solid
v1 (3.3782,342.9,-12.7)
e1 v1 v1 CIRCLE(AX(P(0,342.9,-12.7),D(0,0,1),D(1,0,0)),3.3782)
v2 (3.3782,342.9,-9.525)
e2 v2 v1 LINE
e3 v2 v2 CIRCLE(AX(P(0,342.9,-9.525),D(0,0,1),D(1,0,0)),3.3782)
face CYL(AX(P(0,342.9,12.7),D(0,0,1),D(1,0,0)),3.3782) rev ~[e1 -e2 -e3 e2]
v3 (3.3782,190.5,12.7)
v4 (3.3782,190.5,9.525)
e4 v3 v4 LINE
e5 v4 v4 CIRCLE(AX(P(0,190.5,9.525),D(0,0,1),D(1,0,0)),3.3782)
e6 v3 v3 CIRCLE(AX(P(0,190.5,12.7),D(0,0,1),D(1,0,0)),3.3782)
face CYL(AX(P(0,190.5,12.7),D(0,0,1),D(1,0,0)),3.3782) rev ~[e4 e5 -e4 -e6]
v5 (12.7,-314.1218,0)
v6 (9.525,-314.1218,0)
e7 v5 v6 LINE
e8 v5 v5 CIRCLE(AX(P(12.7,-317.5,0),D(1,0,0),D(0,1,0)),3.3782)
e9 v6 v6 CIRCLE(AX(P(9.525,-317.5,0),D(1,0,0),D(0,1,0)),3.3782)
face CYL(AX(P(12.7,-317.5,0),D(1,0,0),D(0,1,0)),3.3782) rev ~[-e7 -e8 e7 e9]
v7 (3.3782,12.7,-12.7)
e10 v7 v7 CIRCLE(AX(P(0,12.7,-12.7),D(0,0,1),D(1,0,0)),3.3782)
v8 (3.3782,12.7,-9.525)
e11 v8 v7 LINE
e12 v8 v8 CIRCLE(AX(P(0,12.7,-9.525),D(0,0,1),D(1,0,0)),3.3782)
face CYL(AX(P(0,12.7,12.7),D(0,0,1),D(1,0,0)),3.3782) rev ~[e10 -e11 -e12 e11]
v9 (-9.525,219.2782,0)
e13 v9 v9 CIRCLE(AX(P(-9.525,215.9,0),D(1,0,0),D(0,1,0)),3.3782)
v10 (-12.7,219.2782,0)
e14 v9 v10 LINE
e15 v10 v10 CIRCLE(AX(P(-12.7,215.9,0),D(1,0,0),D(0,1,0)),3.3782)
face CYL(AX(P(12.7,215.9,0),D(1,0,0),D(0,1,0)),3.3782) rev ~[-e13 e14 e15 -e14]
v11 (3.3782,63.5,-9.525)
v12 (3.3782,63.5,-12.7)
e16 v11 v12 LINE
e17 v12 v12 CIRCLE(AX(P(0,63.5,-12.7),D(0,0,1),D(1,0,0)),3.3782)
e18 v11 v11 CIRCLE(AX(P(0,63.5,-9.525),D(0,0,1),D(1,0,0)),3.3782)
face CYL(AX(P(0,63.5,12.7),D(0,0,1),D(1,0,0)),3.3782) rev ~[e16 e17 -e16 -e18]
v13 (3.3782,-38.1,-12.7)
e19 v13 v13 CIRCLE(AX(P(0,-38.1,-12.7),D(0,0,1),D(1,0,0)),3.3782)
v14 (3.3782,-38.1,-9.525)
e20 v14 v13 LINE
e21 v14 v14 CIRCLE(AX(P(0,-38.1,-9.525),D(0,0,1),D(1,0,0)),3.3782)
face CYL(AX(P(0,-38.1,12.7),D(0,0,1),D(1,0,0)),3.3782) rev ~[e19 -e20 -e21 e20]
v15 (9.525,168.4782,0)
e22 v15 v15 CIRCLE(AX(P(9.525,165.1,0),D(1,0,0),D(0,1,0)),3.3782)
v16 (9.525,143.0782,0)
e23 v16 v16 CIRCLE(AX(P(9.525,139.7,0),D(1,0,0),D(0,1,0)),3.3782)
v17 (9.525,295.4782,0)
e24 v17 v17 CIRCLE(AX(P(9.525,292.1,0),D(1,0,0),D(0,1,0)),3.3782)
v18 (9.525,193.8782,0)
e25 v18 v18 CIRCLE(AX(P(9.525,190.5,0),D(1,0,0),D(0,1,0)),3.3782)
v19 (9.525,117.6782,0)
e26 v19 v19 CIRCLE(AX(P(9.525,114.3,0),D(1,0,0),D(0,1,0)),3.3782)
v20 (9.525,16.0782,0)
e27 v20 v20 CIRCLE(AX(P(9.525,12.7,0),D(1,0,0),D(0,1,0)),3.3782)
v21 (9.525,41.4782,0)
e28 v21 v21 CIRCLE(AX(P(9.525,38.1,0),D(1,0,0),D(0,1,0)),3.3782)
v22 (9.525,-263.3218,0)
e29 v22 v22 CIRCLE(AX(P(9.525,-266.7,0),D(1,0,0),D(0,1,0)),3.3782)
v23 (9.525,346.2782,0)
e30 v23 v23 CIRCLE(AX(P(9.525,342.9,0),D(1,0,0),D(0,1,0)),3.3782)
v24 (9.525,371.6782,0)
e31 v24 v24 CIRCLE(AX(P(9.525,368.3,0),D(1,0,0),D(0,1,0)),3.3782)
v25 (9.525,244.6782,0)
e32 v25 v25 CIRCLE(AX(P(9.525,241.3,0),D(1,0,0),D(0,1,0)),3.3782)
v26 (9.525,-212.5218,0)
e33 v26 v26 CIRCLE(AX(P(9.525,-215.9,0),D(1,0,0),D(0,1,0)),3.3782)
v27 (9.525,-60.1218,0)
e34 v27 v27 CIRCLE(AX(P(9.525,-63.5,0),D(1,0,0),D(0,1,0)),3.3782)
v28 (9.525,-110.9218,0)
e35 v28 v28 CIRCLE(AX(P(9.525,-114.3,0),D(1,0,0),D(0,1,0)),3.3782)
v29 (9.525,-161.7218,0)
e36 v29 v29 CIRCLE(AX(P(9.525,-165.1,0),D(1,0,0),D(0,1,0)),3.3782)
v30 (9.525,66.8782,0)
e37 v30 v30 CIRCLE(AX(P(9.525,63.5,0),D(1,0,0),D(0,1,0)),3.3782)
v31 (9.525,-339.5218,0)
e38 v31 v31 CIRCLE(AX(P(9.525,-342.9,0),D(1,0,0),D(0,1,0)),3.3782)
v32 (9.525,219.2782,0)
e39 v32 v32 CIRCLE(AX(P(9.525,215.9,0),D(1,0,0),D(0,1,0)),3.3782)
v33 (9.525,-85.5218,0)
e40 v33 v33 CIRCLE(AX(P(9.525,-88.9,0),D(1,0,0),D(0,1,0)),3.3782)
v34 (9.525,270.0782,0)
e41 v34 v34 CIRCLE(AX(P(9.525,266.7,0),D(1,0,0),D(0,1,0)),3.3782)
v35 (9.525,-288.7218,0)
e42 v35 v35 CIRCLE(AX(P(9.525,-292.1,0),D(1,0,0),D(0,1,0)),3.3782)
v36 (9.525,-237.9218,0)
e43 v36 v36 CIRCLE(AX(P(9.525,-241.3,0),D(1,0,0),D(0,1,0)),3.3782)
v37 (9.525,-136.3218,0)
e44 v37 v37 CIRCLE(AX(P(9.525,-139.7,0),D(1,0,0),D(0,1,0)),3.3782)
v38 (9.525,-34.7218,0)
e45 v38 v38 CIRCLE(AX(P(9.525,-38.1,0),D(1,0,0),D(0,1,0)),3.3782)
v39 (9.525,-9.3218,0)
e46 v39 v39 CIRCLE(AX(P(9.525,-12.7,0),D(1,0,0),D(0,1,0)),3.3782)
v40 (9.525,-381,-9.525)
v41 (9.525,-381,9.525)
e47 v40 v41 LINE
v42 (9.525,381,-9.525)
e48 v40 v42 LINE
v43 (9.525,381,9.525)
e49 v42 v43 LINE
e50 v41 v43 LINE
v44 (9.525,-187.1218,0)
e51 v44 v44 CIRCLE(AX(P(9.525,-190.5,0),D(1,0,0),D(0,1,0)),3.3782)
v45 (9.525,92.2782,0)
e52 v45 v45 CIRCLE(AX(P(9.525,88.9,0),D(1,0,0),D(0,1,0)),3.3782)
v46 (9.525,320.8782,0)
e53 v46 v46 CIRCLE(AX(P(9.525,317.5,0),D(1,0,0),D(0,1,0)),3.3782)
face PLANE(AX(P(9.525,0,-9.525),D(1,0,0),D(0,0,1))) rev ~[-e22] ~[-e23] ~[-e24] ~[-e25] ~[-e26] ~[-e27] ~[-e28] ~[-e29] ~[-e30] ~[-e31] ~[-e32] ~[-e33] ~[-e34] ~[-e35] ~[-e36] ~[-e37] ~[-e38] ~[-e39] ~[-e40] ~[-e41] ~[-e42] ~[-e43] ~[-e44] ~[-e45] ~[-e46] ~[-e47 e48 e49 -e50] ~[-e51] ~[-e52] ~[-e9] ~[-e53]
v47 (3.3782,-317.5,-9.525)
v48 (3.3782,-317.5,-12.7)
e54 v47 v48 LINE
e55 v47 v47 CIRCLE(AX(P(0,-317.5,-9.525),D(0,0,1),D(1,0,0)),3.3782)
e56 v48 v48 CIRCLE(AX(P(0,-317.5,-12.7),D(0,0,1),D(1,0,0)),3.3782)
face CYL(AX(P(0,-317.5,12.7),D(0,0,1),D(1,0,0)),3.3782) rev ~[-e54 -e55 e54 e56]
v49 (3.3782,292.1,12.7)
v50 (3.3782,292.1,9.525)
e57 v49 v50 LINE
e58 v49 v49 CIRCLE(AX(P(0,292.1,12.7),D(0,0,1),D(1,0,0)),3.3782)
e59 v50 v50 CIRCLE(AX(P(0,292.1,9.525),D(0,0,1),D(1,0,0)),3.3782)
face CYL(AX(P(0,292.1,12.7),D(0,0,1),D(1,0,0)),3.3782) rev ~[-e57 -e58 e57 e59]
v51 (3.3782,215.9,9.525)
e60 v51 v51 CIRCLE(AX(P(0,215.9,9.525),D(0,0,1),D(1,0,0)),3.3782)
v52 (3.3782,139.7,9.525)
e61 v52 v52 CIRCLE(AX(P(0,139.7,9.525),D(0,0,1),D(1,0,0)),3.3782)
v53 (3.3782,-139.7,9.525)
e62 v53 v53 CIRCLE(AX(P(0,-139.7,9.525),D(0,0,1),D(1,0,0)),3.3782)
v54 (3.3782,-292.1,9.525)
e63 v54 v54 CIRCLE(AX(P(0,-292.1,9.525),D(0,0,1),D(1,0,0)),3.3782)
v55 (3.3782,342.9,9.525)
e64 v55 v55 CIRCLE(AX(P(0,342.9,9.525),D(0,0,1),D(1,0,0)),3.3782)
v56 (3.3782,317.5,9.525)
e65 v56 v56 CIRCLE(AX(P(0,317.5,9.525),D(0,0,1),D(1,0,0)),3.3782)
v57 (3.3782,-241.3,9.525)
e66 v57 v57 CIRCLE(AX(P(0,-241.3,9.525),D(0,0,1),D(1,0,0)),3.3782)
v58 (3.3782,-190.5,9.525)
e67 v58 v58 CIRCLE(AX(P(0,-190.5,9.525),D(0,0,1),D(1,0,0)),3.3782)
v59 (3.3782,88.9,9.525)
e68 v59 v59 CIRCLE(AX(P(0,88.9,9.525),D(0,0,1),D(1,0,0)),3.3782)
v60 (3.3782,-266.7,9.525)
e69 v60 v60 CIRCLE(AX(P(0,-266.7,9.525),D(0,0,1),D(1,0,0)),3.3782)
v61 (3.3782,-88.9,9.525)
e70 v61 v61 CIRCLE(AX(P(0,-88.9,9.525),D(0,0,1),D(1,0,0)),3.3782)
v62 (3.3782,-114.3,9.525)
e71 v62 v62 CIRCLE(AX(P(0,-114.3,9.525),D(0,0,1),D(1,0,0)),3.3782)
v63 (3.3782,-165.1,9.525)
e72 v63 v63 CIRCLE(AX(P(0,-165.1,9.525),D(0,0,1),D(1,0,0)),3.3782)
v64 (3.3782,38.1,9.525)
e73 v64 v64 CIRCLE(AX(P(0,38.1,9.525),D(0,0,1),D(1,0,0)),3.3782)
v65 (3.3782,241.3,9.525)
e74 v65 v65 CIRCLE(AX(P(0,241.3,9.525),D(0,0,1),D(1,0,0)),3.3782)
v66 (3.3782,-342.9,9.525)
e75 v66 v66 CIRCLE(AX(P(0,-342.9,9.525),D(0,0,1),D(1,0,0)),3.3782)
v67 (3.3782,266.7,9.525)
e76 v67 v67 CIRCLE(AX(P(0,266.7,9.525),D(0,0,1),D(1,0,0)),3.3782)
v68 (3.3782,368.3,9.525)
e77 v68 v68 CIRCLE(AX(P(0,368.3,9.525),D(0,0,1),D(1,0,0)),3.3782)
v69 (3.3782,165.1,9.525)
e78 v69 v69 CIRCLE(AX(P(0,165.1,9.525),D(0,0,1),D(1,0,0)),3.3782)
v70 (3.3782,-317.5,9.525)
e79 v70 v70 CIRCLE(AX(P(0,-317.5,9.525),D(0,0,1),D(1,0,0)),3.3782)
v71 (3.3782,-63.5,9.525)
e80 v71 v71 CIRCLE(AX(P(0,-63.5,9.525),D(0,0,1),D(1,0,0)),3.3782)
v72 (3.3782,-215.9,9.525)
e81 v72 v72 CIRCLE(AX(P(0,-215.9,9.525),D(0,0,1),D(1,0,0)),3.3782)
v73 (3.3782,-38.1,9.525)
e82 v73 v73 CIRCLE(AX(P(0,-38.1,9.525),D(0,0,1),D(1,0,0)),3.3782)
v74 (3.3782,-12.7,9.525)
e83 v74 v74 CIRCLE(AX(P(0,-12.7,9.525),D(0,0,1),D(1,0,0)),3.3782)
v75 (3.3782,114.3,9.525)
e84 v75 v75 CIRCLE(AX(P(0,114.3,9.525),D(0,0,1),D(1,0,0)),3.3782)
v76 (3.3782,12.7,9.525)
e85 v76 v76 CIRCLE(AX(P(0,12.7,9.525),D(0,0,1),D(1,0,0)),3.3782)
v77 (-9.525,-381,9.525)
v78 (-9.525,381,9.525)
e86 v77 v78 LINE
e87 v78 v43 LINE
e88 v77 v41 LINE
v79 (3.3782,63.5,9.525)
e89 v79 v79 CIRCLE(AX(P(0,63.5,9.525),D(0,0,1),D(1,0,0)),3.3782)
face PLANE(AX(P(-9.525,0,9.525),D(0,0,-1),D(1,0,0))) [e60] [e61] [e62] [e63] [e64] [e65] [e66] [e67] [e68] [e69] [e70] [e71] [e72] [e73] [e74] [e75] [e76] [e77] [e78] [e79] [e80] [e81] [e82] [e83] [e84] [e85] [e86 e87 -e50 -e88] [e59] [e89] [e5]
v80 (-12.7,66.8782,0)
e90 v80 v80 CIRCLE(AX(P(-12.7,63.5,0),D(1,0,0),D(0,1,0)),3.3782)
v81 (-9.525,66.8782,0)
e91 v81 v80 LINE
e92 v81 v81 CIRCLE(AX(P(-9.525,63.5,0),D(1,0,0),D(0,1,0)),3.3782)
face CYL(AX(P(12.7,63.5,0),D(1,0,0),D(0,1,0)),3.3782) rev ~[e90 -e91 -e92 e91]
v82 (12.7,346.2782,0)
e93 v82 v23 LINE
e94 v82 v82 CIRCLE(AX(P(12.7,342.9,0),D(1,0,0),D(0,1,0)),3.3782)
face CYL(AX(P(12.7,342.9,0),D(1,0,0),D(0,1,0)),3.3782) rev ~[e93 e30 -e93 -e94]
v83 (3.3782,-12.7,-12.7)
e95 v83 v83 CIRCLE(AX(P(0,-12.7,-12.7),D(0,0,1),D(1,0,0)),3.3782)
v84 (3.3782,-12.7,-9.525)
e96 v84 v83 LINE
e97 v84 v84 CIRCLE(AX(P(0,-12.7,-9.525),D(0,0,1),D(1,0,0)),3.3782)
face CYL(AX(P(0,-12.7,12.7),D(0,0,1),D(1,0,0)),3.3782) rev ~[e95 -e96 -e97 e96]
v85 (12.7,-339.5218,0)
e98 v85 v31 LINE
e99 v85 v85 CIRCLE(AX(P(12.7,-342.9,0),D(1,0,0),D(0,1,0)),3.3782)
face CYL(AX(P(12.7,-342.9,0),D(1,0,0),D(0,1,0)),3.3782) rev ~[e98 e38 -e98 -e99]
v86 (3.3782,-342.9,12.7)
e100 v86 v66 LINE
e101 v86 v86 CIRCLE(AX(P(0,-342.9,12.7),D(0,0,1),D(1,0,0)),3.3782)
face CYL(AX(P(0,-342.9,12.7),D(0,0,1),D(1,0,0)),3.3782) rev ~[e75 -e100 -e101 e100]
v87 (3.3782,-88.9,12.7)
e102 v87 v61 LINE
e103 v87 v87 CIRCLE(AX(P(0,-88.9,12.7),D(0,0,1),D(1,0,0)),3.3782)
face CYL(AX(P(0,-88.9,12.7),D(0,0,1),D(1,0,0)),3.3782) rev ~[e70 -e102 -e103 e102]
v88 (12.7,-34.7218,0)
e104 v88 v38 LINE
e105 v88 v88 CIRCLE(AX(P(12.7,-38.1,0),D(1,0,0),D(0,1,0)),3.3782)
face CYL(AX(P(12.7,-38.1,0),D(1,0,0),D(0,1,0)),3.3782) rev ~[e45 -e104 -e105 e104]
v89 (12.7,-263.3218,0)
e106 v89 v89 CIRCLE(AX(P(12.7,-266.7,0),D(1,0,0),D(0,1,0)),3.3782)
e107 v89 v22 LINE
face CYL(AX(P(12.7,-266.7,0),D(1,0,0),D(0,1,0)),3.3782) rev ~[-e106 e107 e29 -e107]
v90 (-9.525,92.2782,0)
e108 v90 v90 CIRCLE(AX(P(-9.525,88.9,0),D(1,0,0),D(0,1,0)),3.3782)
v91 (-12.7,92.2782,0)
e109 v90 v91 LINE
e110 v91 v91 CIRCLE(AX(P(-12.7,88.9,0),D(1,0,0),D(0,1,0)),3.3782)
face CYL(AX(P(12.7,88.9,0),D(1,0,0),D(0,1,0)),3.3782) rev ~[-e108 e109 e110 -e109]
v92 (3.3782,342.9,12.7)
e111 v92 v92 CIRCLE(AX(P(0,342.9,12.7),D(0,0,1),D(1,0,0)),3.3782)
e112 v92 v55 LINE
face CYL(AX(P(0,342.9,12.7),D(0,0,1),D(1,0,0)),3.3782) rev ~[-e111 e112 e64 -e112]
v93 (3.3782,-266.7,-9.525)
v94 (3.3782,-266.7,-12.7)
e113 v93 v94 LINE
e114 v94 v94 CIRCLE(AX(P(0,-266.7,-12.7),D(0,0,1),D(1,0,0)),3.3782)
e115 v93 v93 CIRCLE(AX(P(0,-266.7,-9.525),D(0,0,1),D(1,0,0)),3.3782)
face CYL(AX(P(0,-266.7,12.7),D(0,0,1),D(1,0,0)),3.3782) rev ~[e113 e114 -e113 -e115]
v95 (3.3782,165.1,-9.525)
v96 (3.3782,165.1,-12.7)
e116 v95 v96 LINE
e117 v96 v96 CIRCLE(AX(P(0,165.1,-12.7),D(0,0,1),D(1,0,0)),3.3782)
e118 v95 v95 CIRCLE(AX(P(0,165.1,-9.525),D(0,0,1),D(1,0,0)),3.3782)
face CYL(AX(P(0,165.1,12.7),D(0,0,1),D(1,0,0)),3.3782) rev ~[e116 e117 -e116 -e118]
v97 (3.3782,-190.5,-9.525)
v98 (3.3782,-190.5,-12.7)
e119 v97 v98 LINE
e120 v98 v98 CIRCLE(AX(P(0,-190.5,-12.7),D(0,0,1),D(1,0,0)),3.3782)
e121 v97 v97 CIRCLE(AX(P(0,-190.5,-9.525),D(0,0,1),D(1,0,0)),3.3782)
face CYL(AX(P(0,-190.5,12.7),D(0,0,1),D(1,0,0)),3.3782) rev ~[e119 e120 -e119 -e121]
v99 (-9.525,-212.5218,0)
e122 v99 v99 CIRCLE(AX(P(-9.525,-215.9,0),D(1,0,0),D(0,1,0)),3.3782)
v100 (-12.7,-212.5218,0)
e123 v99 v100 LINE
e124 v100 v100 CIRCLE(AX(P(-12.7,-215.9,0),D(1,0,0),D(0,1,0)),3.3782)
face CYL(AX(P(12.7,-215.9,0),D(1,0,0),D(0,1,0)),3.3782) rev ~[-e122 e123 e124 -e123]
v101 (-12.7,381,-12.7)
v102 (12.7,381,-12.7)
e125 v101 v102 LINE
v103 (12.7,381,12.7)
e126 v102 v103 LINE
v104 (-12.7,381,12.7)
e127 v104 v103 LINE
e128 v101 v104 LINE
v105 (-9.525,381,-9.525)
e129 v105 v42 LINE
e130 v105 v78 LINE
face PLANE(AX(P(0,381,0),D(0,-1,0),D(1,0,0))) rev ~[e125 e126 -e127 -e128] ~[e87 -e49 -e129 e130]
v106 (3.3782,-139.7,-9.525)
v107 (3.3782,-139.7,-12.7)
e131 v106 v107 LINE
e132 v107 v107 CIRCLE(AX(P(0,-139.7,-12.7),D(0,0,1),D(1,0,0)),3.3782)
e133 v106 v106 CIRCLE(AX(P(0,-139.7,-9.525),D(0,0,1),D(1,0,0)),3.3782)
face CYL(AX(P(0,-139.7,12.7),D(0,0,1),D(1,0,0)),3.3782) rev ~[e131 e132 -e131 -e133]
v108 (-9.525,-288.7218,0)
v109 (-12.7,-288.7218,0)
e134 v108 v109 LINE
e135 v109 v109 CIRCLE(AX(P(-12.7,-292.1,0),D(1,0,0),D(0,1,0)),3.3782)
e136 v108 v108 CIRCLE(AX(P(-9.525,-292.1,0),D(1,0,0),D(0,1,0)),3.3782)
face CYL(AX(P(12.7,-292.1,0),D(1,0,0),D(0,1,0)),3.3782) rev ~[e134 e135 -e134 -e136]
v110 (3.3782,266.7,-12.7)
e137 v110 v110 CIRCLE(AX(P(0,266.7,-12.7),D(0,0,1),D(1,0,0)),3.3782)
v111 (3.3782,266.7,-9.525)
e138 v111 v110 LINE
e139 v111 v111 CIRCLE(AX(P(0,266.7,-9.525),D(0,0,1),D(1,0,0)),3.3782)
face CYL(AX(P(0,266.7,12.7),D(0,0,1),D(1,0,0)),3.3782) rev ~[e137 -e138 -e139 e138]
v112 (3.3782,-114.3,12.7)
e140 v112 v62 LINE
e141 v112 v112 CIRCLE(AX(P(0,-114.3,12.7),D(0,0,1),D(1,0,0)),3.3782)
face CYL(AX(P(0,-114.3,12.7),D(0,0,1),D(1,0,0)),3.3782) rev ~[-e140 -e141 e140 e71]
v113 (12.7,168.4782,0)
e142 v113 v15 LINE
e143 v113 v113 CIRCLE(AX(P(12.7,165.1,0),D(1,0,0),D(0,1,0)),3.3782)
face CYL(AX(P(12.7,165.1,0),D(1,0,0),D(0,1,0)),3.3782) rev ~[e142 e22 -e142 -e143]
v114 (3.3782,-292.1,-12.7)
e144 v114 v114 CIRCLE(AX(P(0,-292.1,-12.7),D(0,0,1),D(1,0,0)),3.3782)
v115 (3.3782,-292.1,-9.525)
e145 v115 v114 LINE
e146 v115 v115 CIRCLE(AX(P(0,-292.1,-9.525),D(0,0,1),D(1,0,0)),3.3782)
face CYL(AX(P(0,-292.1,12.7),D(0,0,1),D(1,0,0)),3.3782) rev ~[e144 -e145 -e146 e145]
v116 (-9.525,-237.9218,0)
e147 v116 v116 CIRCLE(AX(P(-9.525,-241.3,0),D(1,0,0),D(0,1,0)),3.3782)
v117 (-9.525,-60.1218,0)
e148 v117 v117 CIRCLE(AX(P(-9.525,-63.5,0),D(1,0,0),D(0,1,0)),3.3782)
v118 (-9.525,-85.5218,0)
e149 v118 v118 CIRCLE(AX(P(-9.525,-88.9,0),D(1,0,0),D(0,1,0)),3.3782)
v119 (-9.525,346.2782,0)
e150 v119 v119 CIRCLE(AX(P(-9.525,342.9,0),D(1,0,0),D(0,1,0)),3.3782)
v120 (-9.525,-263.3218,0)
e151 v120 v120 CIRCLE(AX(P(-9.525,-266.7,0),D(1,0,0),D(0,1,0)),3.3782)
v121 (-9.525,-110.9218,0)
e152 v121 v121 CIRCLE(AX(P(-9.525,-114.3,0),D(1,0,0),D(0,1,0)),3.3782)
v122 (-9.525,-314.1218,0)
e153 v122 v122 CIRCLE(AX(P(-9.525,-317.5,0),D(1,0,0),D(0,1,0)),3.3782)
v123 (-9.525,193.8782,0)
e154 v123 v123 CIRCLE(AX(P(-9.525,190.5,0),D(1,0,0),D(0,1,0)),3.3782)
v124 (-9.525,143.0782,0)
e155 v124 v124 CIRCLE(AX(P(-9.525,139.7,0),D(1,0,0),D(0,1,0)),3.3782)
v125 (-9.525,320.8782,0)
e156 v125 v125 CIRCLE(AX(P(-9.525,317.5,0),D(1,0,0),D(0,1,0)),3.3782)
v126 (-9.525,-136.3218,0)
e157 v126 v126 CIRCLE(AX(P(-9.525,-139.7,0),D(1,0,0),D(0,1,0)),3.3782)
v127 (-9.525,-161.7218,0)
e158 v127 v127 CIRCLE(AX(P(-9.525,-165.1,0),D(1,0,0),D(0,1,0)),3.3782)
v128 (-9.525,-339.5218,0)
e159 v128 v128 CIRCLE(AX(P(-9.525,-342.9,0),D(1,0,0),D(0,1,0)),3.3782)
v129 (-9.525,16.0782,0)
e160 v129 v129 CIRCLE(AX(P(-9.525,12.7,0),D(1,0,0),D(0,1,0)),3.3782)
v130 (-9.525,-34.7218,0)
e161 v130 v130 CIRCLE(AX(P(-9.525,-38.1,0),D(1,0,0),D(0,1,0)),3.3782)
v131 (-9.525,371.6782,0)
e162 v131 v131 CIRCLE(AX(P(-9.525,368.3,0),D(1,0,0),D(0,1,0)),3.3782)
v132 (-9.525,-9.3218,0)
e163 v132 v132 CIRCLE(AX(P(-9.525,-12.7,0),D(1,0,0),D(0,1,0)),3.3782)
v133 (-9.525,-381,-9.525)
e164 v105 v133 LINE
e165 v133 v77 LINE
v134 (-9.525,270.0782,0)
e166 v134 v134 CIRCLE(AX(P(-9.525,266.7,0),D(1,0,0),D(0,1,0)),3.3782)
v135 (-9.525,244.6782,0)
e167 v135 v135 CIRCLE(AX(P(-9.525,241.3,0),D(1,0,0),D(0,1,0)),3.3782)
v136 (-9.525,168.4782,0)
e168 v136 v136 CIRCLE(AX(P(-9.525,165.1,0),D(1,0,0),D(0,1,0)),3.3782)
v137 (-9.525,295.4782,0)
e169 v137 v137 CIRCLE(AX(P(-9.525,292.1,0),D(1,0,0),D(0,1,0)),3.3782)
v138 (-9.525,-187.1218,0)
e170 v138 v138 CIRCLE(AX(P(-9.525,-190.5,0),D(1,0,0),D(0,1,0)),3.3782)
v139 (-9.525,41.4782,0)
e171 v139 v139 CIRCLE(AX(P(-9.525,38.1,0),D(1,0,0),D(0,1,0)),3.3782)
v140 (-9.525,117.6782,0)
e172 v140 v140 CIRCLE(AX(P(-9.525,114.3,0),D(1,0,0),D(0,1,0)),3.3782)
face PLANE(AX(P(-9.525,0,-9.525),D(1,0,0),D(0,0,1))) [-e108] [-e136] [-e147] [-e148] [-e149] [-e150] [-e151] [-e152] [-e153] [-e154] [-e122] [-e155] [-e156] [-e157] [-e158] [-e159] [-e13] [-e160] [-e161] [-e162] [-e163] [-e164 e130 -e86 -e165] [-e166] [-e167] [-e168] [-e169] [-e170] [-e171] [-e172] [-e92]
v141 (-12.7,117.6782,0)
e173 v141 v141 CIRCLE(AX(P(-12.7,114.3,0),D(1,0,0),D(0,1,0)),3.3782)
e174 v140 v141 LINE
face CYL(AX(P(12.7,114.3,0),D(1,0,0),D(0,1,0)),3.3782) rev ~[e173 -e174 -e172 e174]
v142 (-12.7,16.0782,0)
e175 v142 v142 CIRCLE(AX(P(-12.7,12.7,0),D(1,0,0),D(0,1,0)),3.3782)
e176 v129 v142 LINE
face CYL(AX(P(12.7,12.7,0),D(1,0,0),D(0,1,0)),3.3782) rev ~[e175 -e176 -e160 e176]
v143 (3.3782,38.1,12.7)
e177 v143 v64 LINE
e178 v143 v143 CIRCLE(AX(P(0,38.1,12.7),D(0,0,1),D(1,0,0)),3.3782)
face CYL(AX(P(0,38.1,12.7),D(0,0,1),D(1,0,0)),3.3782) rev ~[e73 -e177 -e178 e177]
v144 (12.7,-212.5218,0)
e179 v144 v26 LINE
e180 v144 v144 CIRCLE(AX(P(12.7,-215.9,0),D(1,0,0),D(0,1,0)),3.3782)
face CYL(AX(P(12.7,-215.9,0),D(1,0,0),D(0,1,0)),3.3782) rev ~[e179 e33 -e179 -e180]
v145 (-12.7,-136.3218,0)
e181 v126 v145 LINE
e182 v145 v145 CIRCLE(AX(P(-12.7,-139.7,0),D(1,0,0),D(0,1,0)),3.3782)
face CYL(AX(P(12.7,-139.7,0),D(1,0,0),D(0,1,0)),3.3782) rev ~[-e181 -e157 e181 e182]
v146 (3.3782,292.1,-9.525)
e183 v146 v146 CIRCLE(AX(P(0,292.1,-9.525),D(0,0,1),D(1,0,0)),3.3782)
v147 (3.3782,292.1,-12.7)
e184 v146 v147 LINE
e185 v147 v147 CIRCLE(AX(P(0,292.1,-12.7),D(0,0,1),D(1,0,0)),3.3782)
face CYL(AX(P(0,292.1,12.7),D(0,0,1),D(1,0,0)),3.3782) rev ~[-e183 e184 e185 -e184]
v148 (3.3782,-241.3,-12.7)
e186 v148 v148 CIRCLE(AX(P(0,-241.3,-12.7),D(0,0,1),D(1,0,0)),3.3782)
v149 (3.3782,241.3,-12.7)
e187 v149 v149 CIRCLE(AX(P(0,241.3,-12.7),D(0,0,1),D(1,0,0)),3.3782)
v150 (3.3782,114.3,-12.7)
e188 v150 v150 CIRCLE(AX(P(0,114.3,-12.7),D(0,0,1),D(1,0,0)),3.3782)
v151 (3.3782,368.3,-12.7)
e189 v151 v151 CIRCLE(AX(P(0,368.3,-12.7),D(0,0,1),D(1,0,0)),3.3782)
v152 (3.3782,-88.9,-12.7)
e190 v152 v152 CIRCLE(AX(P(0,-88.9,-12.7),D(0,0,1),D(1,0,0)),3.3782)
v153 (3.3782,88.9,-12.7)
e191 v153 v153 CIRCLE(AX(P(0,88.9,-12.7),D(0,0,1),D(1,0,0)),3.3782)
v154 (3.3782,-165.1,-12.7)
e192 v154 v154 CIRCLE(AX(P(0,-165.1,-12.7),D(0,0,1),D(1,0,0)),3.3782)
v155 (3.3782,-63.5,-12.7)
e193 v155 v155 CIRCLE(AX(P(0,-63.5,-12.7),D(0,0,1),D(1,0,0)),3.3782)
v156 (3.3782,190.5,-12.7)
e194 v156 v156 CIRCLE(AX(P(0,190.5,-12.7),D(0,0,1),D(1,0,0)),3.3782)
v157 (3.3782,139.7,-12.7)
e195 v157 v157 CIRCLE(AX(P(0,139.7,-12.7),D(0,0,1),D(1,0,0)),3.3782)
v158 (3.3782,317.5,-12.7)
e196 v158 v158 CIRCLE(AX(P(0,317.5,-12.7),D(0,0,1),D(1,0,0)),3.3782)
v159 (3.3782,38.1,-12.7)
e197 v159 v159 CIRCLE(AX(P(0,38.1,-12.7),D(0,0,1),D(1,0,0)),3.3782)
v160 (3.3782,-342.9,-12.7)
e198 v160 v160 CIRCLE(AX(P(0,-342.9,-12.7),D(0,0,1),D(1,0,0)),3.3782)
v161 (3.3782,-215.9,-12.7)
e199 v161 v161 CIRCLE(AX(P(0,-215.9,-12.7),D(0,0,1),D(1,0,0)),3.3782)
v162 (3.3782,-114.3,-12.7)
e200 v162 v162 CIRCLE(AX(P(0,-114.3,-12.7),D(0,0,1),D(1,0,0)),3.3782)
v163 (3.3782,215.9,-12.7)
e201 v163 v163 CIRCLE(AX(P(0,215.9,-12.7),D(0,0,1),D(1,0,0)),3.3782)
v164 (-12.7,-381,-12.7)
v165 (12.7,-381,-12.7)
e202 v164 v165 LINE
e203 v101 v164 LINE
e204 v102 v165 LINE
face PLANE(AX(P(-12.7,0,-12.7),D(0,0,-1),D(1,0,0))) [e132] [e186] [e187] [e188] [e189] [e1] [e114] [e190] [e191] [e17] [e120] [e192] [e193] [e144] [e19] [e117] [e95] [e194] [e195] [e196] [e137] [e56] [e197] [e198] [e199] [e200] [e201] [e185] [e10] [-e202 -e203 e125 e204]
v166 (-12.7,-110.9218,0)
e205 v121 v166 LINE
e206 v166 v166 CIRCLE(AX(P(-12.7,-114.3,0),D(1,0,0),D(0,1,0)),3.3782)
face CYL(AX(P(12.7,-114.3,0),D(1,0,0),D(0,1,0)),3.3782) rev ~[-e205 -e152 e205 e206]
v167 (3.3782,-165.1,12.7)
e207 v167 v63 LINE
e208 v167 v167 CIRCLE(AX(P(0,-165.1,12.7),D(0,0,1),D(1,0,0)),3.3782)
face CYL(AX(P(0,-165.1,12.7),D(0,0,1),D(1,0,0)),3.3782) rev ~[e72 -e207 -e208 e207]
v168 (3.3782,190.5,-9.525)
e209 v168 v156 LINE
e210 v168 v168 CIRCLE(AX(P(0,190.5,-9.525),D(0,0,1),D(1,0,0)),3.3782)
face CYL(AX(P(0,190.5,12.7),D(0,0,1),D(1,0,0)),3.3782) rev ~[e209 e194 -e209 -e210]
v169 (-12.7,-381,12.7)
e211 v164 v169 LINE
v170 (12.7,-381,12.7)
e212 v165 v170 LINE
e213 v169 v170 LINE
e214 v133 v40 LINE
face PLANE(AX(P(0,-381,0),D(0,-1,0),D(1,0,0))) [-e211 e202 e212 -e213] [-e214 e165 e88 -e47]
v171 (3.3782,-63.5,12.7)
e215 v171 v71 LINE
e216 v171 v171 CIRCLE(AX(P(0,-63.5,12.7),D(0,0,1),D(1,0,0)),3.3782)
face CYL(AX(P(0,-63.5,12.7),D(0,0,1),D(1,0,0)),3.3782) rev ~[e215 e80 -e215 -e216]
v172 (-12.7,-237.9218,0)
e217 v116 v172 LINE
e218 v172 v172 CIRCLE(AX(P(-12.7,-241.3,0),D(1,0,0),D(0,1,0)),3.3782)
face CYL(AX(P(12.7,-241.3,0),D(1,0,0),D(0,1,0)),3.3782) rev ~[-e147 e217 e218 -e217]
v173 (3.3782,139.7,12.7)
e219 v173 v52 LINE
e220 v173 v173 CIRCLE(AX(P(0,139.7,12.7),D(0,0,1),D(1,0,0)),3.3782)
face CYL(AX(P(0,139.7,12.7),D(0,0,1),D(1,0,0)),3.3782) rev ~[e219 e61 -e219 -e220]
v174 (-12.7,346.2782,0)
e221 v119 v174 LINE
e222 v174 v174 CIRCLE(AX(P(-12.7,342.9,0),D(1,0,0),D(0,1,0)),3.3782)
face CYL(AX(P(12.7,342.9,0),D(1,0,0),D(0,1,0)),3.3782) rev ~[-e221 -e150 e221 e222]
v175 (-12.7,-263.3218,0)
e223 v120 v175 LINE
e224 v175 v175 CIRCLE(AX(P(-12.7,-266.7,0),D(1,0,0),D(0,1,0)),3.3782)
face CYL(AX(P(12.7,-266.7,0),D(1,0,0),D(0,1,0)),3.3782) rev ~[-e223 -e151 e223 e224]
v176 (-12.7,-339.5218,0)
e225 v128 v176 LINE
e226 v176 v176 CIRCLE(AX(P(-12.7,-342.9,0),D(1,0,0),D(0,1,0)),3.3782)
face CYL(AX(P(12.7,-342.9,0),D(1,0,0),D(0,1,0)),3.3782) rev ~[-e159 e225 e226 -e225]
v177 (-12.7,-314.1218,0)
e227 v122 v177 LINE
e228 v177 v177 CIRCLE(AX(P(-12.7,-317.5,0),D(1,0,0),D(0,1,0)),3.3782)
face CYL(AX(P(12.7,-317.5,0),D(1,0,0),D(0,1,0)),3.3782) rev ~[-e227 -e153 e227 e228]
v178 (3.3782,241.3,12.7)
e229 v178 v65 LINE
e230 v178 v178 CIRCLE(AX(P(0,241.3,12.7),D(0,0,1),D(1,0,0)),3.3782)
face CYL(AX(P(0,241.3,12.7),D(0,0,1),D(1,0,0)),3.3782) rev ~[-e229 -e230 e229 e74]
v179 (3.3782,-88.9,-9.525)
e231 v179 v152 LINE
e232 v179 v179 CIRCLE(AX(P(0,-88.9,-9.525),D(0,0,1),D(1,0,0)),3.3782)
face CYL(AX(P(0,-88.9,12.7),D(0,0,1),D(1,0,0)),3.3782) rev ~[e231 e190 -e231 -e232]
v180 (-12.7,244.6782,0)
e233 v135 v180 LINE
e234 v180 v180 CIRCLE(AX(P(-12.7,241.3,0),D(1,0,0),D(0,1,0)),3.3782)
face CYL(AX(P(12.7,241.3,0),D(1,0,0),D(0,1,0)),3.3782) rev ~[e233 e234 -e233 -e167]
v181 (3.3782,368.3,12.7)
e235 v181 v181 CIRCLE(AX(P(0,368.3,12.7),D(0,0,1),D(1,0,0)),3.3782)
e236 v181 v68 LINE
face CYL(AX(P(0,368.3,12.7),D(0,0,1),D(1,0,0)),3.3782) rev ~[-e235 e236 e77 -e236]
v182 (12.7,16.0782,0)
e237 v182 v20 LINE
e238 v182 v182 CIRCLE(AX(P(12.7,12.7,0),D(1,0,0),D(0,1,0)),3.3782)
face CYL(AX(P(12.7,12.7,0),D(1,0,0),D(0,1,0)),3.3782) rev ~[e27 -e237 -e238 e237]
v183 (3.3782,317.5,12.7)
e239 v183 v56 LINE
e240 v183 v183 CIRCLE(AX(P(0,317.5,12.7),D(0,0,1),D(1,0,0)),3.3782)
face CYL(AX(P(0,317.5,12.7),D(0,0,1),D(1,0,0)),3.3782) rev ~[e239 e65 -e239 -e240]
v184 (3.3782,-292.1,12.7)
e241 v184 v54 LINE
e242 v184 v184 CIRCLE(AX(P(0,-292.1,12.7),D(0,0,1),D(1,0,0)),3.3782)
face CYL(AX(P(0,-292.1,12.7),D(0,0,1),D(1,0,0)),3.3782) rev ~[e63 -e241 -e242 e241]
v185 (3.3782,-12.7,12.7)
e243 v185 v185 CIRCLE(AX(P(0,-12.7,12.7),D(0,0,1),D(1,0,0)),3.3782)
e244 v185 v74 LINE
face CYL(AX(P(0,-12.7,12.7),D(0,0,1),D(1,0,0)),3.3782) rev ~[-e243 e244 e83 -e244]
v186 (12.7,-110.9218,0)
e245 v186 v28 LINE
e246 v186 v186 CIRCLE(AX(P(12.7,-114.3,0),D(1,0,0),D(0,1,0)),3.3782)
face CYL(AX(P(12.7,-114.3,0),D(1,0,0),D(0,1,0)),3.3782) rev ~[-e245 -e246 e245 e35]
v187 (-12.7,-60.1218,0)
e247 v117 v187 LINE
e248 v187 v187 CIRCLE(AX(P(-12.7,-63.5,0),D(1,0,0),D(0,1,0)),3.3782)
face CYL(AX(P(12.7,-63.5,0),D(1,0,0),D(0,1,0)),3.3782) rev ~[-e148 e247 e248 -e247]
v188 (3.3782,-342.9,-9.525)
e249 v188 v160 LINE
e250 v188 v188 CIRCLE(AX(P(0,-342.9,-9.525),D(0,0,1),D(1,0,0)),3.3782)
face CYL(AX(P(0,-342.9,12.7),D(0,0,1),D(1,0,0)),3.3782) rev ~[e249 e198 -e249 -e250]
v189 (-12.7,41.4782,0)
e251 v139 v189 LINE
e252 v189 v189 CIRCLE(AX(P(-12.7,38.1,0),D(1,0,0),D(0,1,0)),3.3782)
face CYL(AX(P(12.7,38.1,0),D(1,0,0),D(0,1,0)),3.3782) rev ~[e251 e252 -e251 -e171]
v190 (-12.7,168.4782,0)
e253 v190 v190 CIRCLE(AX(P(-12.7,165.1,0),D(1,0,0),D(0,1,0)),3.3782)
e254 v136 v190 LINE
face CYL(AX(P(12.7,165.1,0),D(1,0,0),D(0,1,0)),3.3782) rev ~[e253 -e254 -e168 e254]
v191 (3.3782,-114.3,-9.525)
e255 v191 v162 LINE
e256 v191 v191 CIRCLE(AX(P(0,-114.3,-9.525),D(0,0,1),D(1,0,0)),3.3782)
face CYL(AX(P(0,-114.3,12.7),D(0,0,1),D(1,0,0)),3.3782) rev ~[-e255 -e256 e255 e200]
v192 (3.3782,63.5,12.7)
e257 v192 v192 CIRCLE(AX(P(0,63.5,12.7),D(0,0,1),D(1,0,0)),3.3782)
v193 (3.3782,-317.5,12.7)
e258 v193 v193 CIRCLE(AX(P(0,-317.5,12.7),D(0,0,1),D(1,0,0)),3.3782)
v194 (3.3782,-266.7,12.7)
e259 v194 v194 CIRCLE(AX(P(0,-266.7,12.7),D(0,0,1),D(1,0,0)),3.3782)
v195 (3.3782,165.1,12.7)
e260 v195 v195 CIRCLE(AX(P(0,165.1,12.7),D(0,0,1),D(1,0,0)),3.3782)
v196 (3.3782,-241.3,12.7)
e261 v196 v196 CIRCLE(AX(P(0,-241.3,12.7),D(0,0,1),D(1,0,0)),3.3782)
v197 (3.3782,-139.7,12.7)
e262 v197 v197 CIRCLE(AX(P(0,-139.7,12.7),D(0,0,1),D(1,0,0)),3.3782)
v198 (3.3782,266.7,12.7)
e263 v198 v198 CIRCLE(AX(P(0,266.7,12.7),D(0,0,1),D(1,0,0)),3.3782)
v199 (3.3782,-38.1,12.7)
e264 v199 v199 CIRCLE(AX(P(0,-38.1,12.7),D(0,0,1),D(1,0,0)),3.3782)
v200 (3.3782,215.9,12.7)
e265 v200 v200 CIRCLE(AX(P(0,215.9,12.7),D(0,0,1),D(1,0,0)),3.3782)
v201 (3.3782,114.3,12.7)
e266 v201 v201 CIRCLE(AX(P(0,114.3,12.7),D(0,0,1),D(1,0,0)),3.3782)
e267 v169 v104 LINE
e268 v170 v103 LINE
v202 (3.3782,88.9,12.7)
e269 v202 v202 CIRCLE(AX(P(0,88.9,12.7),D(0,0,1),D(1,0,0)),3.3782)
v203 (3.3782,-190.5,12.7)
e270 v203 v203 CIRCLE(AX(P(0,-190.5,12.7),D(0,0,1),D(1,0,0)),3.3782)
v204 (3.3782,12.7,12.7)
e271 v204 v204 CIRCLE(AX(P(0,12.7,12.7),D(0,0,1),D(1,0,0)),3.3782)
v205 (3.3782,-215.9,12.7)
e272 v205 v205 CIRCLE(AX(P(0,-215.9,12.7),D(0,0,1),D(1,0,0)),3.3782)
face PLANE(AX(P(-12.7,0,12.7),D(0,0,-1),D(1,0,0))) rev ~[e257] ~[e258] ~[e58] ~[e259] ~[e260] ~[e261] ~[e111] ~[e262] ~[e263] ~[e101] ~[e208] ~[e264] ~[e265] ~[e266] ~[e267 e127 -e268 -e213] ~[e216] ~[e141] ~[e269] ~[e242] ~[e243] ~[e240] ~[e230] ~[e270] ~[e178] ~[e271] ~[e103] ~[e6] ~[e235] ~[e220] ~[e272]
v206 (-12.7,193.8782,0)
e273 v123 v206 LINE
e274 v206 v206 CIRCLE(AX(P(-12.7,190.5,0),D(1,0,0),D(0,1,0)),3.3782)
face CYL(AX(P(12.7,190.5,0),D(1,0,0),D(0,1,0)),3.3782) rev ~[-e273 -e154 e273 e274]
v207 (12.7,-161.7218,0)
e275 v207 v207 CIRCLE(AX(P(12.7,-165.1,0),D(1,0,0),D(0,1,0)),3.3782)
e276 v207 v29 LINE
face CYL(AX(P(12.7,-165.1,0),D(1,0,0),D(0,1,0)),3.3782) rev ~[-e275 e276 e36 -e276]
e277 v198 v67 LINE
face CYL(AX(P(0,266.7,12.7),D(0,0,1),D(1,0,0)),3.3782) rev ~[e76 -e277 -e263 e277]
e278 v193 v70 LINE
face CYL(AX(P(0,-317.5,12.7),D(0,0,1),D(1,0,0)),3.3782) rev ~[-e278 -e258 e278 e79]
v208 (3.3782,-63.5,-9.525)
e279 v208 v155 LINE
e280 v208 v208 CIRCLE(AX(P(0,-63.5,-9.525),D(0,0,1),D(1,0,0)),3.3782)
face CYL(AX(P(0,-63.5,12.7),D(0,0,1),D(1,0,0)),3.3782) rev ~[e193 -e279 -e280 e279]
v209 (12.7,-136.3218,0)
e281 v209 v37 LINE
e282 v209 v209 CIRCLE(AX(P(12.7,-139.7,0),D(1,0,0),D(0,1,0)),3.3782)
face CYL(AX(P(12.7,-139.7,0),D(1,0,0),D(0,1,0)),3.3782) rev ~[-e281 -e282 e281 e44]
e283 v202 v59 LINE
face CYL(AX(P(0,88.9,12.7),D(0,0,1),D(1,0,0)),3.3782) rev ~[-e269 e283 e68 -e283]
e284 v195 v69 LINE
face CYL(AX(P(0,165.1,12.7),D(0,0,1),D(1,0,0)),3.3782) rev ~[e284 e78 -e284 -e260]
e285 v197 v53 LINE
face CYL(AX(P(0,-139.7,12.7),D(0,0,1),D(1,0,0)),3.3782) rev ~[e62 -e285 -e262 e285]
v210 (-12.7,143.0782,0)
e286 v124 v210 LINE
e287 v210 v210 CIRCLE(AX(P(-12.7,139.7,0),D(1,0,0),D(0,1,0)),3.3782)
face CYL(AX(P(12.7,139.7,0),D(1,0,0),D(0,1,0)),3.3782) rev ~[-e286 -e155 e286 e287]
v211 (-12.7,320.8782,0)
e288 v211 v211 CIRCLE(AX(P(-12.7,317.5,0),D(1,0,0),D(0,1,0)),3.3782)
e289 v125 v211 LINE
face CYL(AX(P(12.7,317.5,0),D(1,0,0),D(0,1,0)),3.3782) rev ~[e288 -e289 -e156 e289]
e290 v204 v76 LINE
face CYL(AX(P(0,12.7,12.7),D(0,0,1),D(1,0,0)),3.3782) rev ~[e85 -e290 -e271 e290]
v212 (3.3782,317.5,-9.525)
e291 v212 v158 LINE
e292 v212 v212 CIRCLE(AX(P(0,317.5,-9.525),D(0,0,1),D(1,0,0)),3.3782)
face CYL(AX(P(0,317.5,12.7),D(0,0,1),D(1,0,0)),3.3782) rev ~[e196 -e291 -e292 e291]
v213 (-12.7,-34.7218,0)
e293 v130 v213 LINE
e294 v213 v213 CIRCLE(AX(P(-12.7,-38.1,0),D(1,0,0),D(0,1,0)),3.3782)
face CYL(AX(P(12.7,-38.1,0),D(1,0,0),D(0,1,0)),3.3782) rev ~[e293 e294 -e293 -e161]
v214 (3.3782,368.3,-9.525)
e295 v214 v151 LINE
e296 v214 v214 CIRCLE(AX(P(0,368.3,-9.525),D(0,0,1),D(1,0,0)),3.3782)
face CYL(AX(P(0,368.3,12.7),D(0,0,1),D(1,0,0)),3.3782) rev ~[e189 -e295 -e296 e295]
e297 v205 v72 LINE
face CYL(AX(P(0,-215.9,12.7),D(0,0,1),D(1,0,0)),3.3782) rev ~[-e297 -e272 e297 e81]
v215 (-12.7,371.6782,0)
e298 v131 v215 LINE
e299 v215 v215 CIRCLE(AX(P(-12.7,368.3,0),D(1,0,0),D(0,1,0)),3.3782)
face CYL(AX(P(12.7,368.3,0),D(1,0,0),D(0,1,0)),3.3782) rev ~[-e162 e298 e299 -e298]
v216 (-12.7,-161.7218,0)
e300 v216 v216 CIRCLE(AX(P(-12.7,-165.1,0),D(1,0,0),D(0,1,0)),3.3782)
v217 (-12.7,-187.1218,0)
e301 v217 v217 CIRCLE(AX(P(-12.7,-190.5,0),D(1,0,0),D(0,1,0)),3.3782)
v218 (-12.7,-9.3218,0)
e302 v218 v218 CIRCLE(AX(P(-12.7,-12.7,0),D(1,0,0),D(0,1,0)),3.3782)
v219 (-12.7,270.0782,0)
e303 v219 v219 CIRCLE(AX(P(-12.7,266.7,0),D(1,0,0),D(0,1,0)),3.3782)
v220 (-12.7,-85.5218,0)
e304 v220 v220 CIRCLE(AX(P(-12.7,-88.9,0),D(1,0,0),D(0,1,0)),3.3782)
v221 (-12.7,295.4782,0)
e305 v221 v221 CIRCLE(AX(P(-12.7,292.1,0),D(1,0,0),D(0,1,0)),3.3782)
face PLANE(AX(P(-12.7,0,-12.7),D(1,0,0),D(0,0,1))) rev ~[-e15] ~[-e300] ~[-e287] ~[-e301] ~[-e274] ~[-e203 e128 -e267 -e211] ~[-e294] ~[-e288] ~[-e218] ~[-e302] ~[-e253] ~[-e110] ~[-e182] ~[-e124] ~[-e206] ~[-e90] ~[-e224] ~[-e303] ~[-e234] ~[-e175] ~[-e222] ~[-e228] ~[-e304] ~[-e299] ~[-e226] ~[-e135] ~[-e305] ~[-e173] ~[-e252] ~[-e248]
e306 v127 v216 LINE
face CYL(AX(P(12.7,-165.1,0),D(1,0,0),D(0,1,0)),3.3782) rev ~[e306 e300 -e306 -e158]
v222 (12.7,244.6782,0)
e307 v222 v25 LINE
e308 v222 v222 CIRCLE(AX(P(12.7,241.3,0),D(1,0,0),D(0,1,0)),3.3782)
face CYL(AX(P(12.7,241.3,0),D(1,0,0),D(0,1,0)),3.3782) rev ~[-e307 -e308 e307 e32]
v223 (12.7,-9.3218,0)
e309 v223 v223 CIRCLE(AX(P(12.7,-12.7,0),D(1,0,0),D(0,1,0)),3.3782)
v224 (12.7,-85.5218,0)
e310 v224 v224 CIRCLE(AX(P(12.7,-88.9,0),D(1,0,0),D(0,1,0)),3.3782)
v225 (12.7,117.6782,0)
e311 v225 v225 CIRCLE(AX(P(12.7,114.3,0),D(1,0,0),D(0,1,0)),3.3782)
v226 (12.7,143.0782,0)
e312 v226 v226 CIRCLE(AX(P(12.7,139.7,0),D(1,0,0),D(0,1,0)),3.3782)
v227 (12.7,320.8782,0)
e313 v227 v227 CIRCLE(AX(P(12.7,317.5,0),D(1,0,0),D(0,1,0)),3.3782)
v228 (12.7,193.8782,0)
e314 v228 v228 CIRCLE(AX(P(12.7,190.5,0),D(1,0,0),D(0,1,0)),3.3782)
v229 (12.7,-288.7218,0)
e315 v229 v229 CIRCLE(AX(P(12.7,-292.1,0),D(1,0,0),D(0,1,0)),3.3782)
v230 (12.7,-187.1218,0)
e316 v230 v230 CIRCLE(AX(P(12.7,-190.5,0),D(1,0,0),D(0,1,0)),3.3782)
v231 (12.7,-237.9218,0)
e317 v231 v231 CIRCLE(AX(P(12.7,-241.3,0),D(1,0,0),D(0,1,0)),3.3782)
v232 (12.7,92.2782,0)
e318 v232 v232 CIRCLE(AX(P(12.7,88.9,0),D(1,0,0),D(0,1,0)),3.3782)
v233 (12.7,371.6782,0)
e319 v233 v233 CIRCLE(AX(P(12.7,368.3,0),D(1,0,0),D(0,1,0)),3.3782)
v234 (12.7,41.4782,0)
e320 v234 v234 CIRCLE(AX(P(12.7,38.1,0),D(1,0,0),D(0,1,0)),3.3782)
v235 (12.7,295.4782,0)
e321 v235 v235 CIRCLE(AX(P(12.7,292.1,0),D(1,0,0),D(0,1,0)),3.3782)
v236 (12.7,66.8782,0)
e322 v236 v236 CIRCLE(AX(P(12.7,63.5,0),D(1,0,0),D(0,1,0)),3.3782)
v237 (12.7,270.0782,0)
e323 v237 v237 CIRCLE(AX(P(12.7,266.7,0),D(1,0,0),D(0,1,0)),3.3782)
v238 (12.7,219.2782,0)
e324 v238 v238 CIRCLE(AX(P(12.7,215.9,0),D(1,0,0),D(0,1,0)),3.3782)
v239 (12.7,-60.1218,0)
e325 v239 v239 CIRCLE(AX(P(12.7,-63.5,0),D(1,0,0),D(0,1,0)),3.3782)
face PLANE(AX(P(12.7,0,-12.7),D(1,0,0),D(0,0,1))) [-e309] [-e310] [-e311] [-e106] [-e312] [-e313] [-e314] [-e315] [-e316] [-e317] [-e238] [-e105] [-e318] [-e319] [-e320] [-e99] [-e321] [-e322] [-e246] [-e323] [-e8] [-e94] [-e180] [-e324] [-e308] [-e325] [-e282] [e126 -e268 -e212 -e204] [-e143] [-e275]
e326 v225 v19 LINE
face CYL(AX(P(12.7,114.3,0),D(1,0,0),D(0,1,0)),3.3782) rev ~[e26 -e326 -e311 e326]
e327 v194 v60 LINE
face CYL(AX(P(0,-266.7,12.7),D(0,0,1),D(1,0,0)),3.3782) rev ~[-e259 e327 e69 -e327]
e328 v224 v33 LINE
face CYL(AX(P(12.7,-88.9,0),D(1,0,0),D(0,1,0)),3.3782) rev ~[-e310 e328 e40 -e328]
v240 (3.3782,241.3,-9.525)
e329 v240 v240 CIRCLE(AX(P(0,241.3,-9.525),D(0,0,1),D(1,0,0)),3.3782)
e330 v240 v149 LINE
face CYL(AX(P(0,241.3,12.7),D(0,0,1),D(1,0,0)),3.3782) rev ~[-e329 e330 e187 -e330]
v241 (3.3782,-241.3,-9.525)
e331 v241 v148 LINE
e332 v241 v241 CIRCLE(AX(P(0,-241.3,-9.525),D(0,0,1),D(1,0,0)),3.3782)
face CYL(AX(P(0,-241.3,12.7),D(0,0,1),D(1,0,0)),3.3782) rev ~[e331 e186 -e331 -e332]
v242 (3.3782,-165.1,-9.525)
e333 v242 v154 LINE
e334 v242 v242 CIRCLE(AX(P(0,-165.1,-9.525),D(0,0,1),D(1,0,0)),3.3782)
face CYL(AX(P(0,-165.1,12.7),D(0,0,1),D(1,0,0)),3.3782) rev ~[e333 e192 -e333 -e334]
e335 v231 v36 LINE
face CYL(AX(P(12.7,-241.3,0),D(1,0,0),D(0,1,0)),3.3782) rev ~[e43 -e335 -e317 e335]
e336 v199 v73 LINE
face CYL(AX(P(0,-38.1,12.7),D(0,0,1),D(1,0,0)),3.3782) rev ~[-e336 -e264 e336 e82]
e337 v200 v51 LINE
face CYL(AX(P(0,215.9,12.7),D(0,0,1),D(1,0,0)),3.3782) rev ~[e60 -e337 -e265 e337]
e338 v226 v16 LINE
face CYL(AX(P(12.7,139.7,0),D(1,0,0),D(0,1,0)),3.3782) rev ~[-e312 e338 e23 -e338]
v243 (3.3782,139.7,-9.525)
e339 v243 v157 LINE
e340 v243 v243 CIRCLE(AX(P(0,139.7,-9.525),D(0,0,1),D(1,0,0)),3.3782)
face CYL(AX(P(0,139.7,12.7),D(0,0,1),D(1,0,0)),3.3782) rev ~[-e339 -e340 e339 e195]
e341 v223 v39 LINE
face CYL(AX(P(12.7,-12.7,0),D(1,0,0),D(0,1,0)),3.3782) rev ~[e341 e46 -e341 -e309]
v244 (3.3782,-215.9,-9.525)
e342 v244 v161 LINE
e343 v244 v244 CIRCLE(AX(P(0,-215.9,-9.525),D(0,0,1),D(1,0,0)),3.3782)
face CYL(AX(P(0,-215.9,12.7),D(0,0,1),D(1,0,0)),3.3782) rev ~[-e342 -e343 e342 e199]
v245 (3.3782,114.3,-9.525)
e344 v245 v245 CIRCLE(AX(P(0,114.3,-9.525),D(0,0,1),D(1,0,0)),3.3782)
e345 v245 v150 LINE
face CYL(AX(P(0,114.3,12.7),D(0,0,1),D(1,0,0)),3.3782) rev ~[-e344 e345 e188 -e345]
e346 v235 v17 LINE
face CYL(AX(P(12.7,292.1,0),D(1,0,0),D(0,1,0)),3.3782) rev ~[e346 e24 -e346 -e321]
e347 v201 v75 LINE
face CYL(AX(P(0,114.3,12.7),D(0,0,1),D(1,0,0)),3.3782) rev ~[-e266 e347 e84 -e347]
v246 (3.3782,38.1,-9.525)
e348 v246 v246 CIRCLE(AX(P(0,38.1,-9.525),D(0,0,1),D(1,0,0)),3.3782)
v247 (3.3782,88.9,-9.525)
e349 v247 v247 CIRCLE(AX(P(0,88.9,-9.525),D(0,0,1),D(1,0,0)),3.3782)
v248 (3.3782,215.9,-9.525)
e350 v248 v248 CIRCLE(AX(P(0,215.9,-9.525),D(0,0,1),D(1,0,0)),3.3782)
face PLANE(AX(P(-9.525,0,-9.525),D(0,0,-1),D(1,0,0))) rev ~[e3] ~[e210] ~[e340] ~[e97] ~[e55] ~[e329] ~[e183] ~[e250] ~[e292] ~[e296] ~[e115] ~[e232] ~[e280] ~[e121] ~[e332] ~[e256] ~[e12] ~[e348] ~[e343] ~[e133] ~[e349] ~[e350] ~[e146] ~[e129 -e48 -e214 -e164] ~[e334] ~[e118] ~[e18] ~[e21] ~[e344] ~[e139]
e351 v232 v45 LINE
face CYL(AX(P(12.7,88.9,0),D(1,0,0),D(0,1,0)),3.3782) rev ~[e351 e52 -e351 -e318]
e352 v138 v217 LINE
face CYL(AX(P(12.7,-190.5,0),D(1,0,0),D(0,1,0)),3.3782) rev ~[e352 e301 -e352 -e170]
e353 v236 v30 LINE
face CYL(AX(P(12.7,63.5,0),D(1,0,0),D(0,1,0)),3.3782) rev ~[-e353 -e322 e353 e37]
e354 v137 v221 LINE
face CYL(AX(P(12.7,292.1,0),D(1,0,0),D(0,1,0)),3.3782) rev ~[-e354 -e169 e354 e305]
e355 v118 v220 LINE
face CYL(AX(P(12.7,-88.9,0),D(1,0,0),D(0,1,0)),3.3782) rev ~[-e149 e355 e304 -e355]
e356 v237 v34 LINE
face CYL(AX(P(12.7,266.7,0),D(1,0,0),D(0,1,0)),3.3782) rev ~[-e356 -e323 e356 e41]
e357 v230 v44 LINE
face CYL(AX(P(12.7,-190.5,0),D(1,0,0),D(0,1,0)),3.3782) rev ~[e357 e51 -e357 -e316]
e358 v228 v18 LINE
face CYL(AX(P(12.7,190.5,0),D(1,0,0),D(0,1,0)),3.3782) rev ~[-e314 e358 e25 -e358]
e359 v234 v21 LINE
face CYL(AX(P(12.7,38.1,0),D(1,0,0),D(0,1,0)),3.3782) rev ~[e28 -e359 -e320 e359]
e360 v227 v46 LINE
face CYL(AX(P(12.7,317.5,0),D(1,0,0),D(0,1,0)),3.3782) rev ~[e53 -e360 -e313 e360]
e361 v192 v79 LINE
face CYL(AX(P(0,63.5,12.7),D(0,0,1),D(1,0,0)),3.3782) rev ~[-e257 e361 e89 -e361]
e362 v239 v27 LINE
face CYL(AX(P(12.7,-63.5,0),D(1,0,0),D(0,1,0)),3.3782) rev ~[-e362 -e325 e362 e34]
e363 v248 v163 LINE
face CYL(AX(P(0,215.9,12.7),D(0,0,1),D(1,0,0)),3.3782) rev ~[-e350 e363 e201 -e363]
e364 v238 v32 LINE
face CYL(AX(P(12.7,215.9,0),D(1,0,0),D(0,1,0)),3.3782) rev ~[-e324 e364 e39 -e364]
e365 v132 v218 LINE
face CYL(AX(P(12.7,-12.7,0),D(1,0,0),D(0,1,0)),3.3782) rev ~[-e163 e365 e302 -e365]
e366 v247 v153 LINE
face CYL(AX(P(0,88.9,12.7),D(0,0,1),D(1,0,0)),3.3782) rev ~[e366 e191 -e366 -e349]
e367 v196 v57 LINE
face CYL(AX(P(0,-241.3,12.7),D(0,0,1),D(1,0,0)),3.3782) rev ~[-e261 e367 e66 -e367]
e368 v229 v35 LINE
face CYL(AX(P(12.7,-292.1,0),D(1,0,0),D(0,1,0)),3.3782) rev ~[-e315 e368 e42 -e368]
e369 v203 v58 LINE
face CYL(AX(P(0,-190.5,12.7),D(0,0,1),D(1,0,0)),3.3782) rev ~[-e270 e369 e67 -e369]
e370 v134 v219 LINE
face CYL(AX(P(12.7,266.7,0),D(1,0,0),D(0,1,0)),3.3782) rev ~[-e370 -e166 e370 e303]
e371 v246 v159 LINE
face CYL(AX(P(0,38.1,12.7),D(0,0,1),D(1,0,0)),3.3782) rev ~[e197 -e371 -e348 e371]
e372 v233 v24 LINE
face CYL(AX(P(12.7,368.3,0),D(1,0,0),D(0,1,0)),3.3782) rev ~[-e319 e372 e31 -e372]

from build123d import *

# Parameters (mm, degrees)
F0_W     = 25.4
F0_H     = 25.4
F0_W_2   = 19.05
F0_H_2   = 19.05
F1_DEPTH = 381
F2_R     = 3.3782
F3_DEPTH = 25.4
F4_R     = 3.3782
F5_DEPTH = 25.4


with BuildPart() as f1:
    # F0 (on Front) → F1 (new body, symmetric)
    with BuildSketch(Plane.XZ):
        Rectangle(F0_W, F0_H)
        Rectangle(F0_W_2, F0_H_2, mode=Mode.SUBTRACT)
    extrude(amount=F1_DEPTH, both=True)

    # F2 (on face) → F3 (cut, through all)
    with BuildSketch(Plane.XY.offset(12.7)):
        with Locations((0, -342.9)):
            Circle(F2_R)
        with Locations((0, -317.5)):
            Circle(F2_R)
        with Locations((0, -292.1)):
            Circle(F2_R)
        with Locations((0, -266.7)):
            Circle(F2_R)
        with Locations((0, -241.3)):
            Circle(F2_R)
        with Locations((0, -215.9)):
            Circle(F2_R)
        with Locations((0, -190.5)):
            Circle(F2_R)
        with Locations((0, -165.1)):
            Circle(F2_R)
        with Locations((0, -139.7)):
            Circle(F2_R)
        with Locations((0, -114.3)):
            Circle(F2_R)
        with Locations((0, -88.9)):
            Circle(F2_R)
        with Locations((0, -63.5)):
            Circle(F2_R)
        with Locations((0, -38.1)):
            Circle(F2_R)
        with Locations((0, -12.7)):
            Circle(F2_R)
        with Locations((0, 12.7)):
            Circle(F2_R)
        with Locations((0, 38.1)):
            Circle(F2_R)
        with Locations((0, 63.5)):
            Circle(F2_R)
        with Locations((0, 88.9)):
            Circle(F2_R)
        with Locations((0, 114.3)):
            Circle(F2_R)
        with Locations((0, 139.7)):
            Circle(F2_R)
        with Locations((0, 165.1)):
            Circle(F2_R)
        with Locations((0, 190.5)):
            Circle(F2_R)
        with Locations((0, 215.9)):
            Circle(F2_R)
        with Locations((0, 241.3)):
            Circle(F2_R)
        with Locations((0, 266.7)):
            Circle(F2_R)
        with Locations((0, 292.1)):
            Circle(F2_R)
        with Locations((0, 317.5)):
            Circle(F2_R)
        with Locations((0, 342.9)):
            Circle(F2_R)
        with Locations((0, 368.3)):
            Circle(F2_R)
        with Locations((0, 393.7)):
            Circle(F2_R)
    extrude(amount=-F3_DEPTH, mode=Mode.SUBTRACT)

    # F4 (on face) → F5 (cut)
    with BuildSketch(Plane.YZ.offset(12.7)):
        with Locations((-342.9, 0)):
            Circle(F4_R)
        with Locations((-317.5, 0)):
            Circle(F4_R)
        with Locations((-292.1, 0)):
            Circle(F4_R)
        with Locations((-266.7, 0)):
            Circle(F4_R)
        with Locations((-241.3, 0)):
            Circle(F4_R)
        with Locations((-215.9, 0)):
            Circle(F4_R)
        with Locations((-190.5, 0)):
            Circle(F4_R)
        with Locations((-165.1, 0)):
            Circle(F4_R)
        with Locations((-139.7, 0)):
            Circle(F4_R)
        with Locations((-114.3, 0)):
            Circle(F4_R)
        with Locations((-88.9, 0)):
            Circle(F4_R)
        with Locations((-63.5, 0)):
            Circle(F4_R)
        with Locations((-38.1, 0)):
            Circle(F4_R)
        with Locations((-12.7, 0)):
            Circle(F4_R)
        with Locations((12.7, 0)):
            Circle(F4_R)
        with Locations((38.1, 0)):
            Circle(F4_R)
        with Locations((63.5, 0)):
            Circle(F4_R)
        with Locations((88.9, 0)):
            Circle(F4_R)
        with Locations((114.3, 0)):
            Circle(F4_R)
        with Locations((139.7, 0)):
            Circle(F4_R)
        with Locations((165.1, 0)):
            Circle(F4_R)
        with Locations((190.5, 0)):
            Circle(F4_R)
        with Locations((215.9, 0)):
            Circle(F4_R)
        with Locations((241.3, 0)):
            Circle(F4_R)
        with Locations((266.7, 0)):
            Circle(F4_R)
        with Locations((292.1, 0)):
            Circle(F4_R)
        with Locations((317.5, 0)):
            Circle(F4_R)
        with Locations((342.9, 0)):
            Circle(F4_R)
        with Locations((368.3, 0)):
            Circle(F4_R)
        with Locations((393.7, 0)):
            Circle(F4_R)
    extrude(amount=-F5_DEPTH, mode=Mode.SUBTRACT)


solid = f1.part
